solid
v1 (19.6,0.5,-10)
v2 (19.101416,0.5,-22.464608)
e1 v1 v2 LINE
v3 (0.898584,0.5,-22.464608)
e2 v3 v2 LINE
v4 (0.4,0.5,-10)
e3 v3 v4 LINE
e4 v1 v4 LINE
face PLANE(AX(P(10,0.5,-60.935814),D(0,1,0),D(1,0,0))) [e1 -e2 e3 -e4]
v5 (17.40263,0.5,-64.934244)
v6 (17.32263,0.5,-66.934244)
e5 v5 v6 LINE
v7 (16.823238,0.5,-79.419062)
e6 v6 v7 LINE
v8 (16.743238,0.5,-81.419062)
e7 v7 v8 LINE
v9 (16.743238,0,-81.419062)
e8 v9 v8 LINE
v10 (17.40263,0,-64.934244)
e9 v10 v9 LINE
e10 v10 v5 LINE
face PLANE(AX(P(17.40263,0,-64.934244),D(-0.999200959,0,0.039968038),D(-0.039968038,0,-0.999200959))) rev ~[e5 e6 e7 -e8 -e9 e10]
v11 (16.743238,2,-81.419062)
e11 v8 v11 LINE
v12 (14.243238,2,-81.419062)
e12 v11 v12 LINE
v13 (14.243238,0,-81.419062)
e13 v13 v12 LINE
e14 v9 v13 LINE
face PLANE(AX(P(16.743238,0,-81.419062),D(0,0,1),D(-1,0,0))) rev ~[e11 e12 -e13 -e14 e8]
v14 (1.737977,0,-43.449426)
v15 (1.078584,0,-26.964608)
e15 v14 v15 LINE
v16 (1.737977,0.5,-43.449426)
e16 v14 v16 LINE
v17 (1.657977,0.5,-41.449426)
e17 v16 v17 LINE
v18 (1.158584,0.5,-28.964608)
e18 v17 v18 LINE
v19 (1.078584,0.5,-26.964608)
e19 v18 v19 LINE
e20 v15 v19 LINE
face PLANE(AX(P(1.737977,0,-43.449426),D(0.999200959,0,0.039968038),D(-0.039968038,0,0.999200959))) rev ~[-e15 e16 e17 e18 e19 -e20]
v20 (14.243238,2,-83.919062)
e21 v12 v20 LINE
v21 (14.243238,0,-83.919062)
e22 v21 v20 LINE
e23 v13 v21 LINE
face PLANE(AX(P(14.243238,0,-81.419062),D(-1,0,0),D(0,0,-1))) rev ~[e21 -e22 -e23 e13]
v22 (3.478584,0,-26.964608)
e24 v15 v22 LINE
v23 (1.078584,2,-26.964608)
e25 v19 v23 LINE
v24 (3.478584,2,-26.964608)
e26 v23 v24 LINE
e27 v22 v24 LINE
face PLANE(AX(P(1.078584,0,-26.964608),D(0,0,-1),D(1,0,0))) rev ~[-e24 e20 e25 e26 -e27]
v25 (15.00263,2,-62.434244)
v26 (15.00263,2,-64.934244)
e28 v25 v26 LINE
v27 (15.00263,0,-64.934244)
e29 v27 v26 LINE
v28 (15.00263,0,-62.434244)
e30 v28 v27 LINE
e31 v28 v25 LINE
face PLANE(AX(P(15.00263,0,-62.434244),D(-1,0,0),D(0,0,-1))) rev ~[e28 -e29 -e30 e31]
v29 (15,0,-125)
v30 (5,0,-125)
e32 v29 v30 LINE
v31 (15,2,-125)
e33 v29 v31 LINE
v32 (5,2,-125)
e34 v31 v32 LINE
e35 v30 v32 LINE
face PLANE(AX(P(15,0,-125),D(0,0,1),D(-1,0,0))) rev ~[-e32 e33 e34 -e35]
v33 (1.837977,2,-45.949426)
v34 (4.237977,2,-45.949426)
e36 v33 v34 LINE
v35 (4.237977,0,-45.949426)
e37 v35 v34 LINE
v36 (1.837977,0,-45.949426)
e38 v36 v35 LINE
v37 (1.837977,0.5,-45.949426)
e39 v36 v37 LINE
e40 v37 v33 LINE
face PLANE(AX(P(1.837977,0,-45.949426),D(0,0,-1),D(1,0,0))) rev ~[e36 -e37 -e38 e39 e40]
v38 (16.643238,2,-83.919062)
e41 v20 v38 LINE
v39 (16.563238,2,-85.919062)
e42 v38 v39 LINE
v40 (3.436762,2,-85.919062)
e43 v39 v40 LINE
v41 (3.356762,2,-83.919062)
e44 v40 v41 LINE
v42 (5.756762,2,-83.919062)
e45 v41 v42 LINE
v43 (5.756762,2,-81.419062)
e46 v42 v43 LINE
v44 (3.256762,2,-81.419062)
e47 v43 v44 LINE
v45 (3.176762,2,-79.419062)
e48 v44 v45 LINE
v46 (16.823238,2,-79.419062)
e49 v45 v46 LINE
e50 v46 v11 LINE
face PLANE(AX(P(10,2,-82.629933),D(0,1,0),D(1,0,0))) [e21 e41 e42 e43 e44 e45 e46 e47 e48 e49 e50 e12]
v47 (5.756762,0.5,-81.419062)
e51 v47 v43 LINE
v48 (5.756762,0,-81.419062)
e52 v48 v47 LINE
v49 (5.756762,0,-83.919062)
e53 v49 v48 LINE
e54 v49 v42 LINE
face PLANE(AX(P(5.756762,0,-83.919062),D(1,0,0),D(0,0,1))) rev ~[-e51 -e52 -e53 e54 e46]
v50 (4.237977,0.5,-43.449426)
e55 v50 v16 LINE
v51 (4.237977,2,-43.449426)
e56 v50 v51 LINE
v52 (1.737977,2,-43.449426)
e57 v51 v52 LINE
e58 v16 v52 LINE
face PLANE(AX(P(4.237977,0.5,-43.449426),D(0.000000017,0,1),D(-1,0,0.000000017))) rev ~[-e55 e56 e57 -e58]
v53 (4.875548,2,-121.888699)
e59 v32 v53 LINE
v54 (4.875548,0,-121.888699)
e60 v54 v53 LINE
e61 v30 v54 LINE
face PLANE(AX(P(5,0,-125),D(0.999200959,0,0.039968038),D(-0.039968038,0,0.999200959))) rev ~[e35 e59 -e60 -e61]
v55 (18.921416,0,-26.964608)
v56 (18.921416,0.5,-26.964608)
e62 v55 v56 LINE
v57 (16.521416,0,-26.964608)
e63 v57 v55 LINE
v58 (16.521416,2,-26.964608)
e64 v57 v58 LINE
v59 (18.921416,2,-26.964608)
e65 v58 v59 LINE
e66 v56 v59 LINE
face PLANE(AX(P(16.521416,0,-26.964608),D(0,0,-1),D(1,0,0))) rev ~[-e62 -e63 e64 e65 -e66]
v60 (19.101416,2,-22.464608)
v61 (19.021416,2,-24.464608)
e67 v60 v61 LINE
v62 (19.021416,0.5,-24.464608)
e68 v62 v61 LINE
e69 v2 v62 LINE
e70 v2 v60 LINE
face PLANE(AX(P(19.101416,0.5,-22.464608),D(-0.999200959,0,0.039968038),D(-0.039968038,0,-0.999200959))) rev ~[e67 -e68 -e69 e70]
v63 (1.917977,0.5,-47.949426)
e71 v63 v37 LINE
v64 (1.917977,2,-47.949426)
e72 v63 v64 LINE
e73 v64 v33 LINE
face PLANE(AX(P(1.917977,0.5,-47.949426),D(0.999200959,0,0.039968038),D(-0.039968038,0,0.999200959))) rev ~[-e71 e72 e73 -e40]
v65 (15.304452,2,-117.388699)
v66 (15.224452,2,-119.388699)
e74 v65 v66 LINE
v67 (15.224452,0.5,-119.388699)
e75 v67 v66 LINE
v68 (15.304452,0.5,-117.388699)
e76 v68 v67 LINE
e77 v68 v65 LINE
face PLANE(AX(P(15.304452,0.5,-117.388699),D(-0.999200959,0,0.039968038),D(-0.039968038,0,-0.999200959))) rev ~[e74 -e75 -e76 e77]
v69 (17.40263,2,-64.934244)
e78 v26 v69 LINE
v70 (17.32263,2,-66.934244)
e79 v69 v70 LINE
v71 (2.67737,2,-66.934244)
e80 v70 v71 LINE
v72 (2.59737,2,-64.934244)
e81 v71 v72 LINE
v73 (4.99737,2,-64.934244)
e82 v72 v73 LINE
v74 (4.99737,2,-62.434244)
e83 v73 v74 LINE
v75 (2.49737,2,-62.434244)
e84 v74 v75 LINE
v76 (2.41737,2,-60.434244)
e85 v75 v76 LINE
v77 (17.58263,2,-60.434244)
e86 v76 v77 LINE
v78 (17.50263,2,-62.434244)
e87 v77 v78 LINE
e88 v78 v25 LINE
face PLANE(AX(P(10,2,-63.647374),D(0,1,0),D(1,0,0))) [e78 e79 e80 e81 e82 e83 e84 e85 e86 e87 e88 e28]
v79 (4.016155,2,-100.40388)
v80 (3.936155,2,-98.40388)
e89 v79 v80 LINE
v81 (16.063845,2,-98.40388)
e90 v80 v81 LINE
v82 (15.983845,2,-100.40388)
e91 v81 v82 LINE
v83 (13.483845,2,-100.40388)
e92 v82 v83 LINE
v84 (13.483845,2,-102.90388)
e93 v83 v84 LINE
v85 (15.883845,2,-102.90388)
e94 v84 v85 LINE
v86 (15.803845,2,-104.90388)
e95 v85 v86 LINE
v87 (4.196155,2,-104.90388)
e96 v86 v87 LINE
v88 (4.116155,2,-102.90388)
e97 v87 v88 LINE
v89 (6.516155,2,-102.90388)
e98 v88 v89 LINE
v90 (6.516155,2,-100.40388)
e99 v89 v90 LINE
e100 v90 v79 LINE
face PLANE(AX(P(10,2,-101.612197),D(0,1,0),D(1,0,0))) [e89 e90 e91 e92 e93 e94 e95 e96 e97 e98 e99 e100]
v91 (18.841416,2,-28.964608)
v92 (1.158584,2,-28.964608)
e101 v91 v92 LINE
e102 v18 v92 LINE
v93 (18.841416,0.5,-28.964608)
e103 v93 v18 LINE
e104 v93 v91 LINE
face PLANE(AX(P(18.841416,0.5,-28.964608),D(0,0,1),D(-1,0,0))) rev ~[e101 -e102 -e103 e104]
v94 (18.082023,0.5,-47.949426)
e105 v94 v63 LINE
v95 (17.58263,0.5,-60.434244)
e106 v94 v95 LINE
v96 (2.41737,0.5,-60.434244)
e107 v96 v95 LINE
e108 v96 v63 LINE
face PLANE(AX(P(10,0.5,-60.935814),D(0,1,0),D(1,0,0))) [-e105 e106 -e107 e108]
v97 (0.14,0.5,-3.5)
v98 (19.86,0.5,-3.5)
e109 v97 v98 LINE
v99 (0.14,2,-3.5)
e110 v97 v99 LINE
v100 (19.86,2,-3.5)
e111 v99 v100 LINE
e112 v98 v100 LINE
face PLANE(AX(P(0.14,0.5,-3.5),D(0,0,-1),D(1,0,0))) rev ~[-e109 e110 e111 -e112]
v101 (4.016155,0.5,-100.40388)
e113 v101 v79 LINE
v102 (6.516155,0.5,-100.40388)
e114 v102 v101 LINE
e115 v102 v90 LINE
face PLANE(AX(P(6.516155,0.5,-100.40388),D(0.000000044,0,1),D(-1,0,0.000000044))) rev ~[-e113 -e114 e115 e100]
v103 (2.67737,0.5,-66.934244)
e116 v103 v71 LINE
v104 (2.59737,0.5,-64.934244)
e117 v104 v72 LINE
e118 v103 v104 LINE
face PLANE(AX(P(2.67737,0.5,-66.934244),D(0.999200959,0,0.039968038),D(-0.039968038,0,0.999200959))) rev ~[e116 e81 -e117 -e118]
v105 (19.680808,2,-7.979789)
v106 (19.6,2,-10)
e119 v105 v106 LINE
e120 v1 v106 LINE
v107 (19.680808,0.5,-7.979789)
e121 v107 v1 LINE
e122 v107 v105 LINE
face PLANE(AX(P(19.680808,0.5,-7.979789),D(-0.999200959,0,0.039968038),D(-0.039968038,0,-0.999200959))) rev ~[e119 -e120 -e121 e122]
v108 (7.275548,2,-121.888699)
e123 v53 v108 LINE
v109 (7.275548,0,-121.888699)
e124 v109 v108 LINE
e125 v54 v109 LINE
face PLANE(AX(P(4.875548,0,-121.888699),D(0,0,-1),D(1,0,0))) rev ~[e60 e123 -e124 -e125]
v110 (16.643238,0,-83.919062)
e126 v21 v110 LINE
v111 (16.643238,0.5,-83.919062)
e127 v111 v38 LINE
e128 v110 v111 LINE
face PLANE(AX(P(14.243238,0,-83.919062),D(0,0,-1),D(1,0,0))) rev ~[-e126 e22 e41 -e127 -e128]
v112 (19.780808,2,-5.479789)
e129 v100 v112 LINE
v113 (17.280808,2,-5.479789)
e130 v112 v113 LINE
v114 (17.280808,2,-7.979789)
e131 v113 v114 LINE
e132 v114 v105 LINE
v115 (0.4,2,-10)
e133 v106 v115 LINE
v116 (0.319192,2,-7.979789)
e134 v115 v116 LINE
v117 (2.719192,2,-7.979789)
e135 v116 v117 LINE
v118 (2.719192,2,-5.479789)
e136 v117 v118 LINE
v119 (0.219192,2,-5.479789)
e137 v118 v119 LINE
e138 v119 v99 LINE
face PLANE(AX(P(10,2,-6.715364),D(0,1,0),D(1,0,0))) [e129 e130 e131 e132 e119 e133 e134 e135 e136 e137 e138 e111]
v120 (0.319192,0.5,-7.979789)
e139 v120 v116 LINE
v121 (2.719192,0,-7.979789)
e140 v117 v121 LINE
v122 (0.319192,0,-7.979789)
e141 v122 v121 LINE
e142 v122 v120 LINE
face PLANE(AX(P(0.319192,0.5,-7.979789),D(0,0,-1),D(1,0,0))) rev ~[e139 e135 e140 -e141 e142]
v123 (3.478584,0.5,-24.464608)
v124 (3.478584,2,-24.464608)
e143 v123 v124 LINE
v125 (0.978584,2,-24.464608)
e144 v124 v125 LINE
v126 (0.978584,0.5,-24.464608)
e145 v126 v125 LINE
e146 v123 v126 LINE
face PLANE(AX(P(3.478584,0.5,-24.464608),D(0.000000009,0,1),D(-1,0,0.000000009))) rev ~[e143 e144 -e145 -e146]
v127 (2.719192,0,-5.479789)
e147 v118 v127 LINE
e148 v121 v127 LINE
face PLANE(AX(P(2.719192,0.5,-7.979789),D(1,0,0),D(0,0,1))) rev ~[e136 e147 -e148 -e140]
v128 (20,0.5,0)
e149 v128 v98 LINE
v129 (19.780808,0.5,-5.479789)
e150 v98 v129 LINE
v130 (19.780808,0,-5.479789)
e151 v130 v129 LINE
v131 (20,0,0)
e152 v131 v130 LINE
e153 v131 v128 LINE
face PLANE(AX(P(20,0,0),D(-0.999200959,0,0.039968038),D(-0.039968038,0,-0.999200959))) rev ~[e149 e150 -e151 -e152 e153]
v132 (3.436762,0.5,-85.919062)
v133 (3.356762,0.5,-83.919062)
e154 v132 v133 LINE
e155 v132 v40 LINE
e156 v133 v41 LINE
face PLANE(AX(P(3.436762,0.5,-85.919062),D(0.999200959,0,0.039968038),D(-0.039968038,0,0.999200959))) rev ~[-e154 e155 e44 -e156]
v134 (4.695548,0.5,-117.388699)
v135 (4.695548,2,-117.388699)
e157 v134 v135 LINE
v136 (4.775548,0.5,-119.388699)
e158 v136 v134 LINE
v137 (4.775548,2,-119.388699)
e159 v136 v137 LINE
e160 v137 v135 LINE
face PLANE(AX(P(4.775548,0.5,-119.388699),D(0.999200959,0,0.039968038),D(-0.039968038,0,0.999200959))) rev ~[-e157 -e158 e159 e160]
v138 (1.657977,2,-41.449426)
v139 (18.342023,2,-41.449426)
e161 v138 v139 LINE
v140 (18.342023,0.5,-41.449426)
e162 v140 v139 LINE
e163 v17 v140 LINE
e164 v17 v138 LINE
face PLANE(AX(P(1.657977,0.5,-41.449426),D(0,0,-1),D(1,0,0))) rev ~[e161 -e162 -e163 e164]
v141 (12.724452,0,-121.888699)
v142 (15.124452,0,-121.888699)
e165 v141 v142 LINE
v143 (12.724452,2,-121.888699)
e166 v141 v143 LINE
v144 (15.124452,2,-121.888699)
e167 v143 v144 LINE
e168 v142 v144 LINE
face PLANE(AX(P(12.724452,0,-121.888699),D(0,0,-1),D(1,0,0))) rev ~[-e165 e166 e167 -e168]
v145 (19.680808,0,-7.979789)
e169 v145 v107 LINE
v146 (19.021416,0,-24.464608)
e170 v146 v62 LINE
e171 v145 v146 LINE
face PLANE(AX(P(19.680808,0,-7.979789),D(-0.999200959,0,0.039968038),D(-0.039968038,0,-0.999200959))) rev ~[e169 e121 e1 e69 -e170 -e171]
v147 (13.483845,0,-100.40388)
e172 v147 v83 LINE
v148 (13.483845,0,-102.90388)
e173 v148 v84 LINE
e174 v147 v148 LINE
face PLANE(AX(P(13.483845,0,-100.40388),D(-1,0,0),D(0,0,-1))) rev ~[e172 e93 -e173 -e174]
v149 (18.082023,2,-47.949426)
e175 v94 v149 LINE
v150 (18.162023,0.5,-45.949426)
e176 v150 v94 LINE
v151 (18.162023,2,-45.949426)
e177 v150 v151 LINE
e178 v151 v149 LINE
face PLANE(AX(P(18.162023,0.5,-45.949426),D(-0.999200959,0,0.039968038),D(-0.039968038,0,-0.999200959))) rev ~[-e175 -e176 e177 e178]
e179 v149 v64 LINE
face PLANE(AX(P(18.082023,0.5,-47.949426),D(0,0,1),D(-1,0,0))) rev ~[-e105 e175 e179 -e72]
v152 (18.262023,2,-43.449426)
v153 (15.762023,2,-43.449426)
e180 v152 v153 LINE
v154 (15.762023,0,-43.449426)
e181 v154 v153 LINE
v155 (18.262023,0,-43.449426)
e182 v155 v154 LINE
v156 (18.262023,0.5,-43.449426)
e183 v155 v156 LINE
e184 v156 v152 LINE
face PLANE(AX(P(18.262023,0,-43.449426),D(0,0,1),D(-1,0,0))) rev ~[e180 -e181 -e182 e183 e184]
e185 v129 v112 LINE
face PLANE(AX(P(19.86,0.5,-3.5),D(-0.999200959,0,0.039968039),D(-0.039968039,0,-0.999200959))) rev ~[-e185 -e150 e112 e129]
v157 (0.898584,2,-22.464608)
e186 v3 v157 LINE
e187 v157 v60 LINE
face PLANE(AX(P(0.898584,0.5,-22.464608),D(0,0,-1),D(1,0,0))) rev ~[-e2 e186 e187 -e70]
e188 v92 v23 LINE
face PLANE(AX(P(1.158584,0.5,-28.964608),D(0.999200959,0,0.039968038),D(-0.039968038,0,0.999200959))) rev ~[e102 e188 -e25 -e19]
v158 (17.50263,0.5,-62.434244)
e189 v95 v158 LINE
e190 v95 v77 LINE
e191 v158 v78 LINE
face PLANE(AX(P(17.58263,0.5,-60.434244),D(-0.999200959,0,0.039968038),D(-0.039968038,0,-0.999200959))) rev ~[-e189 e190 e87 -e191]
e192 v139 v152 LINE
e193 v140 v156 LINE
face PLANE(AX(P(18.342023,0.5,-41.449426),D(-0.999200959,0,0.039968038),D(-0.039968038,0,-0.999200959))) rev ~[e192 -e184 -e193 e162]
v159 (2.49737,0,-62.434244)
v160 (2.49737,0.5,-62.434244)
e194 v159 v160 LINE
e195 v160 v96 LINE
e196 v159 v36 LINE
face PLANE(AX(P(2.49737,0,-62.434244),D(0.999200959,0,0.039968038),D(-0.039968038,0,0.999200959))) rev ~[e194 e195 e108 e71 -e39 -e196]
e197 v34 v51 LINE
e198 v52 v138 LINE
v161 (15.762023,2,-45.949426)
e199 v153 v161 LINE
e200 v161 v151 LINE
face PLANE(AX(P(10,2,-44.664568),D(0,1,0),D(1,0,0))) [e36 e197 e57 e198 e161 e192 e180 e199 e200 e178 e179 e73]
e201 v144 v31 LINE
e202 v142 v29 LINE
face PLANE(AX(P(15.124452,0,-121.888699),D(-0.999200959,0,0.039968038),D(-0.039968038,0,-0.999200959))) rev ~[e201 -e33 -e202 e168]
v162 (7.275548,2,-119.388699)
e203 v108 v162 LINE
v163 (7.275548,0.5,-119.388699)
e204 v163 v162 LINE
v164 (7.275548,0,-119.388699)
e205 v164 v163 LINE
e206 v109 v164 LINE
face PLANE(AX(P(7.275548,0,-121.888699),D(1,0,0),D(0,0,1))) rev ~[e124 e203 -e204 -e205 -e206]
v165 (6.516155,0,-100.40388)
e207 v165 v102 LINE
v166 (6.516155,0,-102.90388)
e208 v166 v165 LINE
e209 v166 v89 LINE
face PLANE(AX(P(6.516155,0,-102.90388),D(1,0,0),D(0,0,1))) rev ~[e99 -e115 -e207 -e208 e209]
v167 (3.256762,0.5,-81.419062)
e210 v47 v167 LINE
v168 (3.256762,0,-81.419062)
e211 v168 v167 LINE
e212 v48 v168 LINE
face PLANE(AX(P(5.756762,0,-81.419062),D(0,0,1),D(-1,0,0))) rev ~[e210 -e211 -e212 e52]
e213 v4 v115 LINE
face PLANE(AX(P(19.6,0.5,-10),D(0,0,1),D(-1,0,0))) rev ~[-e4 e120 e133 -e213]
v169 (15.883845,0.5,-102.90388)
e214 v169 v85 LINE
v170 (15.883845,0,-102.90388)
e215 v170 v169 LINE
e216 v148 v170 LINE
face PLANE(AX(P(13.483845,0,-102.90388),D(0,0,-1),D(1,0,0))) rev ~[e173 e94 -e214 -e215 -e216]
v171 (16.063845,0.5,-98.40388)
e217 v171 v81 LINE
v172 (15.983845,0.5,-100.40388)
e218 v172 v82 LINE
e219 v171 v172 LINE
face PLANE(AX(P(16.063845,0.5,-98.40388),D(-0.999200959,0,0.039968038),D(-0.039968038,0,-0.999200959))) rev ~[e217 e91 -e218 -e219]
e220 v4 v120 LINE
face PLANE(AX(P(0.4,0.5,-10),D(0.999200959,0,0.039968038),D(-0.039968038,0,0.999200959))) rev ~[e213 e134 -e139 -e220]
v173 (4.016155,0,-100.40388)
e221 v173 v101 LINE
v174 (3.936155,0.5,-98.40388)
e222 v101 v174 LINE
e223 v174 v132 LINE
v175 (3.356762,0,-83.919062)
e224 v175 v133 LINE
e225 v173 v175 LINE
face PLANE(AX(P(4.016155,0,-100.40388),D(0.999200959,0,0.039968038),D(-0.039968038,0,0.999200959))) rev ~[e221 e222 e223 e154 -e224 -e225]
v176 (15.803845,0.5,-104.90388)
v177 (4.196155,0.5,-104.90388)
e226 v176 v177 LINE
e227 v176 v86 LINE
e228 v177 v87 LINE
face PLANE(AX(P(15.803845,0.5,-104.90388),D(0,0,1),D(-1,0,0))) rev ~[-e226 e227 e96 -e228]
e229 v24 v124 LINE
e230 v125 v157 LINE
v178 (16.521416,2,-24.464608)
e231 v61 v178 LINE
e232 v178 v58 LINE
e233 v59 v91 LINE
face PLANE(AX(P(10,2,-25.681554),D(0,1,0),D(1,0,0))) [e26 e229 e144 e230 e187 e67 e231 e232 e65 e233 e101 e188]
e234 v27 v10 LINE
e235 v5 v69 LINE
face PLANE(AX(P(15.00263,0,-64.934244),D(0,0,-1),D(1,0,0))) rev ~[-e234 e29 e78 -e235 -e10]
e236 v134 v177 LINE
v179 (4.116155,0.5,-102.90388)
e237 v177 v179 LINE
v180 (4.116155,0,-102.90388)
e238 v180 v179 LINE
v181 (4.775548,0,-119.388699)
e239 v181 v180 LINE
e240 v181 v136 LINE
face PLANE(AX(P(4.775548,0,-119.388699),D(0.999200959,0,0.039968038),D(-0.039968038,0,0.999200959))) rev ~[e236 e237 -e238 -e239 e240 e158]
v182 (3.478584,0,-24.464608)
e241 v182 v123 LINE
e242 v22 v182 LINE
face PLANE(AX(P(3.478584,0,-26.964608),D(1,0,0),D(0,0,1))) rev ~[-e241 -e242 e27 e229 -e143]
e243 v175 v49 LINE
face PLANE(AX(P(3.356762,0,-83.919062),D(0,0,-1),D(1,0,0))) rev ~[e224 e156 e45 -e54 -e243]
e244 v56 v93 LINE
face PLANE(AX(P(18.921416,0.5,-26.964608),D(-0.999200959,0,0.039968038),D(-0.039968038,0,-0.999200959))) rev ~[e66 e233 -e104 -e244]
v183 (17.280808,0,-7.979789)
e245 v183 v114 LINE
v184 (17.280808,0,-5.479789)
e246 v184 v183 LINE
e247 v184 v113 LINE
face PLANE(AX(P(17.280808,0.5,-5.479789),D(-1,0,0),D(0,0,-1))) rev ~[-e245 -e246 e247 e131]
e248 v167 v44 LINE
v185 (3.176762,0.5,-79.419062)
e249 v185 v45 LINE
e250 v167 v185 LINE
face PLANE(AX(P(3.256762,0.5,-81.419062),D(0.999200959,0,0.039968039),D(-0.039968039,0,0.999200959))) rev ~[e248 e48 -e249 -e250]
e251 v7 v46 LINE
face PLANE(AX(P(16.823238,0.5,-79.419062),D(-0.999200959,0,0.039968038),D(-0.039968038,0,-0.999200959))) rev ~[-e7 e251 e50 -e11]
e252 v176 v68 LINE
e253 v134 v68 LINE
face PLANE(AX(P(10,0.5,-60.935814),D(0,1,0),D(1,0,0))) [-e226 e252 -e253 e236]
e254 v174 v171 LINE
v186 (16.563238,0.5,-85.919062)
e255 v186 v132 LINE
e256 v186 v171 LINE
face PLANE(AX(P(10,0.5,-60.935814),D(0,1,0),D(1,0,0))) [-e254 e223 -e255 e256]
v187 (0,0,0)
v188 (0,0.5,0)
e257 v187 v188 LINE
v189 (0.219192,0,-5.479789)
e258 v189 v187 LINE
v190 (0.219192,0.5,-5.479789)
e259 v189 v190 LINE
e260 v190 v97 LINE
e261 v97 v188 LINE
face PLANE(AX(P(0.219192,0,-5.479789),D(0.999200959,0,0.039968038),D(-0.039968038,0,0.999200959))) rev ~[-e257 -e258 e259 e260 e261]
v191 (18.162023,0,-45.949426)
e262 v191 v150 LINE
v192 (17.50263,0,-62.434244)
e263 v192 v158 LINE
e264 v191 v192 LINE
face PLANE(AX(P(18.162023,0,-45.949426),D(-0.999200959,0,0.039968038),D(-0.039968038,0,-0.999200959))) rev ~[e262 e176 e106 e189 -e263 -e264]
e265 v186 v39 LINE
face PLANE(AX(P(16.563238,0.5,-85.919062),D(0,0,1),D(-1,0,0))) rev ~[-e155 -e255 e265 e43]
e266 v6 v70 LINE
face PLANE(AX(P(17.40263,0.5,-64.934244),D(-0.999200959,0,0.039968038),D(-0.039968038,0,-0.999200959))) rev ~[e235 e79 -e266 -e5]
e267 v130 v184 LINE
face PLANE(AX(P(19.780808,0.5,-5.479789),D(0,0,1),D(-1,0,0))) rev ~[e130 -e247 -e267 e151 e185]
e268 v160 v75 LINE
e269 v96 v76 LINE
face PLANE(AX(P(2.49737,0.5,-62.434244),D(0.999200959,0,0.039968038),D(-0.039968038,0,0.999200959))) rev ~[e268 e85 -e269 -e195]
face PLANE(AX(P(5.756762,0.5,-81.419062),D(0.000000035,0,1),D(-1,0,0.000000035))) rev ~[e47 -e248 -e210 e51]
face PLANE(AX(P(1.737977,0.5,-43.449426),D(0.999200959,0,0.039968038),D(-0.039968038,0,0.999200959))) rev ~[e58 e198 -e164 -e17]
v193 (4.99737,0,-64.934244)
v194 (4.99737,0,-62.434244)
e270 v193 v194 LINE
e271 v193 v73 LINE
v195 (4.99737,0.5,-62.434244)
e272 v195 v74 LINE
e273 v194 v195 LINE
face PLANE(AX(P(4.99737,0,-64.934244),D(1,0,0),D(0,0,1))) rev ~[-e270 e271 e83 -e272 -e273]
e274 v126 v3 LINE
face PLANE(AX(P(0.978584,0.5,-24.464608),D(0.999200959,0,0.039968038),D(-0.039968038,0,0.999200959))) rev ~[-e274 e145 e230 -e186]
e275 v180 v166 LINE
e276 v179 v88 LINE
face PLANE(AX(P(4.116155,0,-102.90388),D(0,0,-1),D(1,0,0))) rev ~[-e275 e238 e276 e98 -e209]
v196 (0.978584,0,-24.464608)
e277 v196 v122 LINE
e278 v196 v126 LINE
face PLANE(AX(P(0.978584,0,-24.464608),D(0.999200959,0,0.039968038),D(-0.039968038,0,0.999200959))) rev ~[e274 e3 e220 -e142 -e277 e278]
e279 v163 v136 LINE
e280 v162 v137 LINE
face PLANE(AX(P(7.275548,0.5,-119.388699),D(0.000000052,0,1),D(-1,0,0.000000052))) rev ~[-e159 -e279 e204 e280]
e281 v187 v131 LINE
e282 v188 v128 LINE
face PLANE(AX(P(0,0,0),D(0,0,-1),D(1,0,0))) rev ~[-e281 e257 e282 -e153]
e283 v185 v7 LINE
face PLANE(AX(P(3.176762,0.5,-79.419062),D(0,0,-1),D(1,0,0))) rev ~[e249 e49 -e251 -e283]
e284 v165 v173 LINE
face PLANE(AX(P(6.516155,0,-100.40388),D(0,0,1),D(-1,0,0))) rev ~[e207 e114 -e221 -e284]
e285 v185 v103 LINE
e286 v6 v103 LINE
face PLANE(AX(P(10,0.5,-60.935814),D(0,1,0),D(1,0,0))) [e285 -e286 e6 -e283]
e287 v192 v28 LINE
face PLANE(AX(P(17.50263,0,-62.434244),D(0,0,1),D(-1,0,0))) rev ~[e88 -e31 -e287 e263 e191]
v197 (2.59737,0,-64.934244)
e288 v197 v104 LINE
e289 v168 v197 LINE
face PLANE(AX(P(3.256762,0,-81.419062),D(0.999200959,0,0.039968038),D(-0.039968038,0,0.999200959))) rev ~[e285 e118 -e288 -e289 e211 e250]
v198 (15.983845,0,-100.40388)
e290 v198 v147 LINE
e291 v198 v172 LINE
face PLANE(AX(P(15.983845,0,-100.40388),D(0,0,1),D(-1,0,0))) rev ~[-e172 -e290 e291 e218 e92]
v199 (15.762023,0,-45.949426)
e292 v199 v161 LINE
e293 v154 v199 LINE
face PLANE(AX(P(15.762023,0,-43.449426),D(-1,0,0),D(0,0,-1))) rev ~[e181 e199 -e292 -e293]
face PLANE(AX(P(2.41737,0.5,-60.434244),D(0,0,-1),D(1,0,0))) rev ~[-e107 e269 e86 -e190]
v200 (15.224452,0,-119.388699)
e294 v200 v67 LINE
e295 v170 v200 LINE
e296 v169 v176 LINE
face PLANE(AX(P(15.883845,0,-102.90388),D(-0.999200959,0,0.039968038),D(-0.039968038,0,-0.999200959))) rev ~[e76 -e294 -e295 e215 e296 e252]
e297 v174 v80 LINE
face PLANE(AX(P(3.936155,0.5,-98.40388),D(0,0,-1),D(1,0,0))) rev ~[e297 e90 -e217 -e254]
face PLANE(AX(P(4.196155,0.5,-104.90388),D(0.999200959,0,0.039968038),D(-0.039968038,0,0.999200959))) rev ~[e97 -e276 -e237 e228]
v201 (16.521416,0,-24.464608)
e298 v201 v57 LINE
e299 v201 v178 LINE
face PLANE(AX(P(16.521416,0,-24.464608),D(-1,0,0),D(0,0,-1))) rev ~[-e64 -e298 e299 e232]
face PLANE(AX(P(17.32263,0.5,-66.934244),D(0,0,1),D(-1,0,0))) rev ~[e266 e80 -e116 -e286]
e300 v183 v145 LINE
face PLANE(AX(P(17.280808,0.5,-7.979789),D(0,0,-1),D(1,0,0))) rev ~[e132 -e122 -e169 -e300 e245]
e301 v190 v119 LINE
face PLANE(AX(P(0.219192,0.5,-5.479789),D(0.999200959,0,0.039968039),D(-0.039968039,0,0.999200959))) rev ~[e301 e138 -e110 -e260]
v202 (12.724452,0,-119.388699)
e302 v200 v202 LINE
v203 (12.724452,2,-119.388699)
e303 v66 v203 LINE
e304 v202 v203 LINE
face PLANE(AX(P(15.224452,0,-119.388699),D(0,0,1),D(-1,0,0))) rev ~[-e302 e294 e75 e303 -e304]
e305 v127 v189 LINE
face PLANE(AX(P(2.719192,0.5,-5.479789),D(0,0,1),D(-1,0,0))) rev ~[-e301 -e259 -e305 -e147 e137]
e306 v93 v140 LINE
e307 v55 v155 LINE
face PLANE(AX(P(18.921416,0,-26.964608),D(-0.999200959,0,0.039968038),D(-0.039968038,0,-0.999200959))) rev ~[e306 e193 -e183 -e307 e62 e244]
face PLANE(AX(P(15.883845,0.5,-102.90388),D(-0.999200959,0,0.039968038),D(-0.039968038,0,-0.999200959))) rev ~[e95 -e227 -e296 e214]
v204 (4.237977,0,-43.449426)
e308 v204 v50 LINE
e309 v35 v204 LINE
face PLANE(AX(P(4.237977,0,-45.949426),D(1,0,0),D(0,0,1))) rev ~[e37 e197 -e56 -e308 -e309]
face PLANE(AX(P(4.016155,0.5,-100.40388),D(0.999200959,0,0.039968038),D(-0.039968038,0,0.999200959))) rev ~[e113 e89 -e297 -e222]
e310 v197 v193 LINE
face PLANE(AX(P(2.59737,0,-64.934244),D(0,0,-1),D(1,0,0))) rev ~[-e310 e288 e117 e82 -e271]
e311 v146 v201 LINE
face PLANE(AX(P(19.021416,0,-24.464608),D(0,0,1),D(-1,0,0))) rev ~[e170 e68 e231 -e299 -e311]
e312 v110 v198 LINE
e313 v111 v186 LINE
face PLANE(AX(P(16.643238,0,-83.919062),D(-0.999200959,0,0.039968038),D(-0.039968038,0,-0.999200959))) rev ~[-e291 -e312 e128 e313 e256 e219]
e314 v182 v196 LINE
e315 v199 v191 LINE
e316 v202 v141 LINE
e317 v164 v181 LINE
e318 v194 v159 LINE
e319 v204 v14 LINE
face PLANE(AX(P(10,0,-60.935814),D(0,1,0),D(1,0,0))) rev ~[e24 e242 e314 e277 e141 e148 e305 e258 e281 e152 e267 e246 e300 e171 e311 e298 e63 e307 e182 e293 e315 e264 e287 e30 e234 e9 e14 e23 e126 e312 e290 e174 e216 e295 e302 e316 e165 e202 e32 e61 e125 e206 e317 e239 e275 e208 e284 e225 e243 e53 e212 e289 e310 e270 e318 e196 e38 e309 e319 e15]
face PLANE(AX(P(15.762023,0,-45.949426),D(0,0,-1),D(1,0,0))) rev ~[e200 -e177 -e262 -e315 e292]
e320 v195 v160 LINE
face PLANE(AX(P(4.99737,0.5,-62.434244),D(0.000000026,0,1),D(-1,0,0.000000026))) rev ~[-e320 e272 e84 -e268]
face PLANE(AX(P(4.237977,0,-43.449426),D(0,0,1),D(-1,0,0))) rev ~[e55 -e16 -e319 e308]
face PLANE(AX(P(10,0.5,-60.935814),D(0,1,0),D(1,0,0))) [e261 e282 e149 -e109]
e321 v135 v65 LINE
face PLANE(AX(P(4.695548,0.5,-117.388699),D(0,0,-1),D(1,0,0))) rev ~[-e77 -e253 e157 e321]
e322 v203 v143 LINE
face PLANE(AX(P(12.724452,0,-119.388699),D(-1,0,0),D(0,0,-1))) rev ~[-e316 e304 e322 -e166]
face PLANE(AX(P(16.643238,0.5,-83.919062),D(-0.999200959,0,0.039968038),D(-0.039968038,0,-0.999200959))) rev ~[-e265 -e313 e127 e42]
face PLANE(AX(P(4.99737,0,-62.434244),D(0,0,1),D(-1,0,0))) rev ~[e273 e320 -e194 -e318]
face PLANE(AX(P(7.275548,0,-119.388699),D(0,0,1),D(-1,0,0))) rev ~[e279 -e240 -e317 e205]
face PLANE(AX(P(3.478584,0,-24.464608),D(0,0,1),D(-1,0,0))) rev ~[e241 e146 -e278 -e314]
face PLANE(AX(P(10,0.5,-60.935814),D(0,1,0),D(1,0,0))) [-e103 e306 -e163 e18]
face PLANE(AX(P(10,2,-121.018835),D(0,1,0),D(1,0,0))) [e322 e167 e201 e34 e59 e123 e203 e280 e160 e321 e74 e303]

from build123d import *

# Parameters (mm, degrees)
BOSS_EXTRUDE1_DEPTH = 0.5
BOSS_EXTRUDE2_DEPTH = 1.5


with BuildPart() as part:
    # Sketch2 → Boss-Extrude1 (new body)
    with BuildSketch(Plane(origin=(0, 0, 0), x_dir=(1, 0, 0), z_dir=(0, 1, 0))):
        Polygon((0.219191575, 5.479789367), (0, 0), (20, 0), (19.780808425, 5.479789367), (17.280808425, 5.479789367), (17.280808425, 7.979789367), (19.680808425, 7.979789367), (19.021415697, 24.464607583), (16.521415698, 24.464607583), (16.521415698, 26.964607583), (18.921415697, 26.964607583), (18.262022968, 43.449425798), (15.76202297, 43.449425798), (15.76202297, 45.949425798), (18.162022968, 45.949425798), (17.502630239, 62.434244014), (15.002630242, 62.434244014), (15.002630242, 64.934244014), (17.402630239, 64.934244014), (16.743237511, 81.41906223), (14.243237514, 81.41906223), (14.243237514, 83.91906223), (16.643237511, 83.91906223), (15.983844782, 100.403880446), (13.483844787, 100.403880446), (13.483844787, 102.903880446), (15.883844782, 102.903880446), (15.224452054, 119.388698661), (12.724452059, 119.388698661), (12.724452059, 121.888698661), (15.124452054, 121.888698661), (15, 125), (5, 125), (4.875547946, 121.888698661), (7.275547941, 121.888698661), (7.275547941, 119.388698661), (4.775547941, 119.388698661), (4.116155218, 102.903880446), (6.516155213, 102.903880446), (6.516155213, 100.403880446), (4.016155213, 100.403880446), (3.356762489, 83.91906223), (5.756762486, 83.91906223), (5.756762486, 81.41906223), (3.256762486, 81.41906223), (2.597369761, 64.934244014), (4.997369758, 64.934244014), (4.997369758, 62.434244014), (2.497369758, 62.434244014), (1.837977032, 45.949425798), (4.23797703, 45.949425798), (4.23797703, 43.449425798), (1.73797703, 43.449425798), (1.078584303, 26.964607583), (3.478584302, 26.964607583), (3.478584302, 24.464607583), (0.978584302, 24.464607583), (0.319191575, 7.979789367), (2.719191575, 7.979789367), (2.719191575, 5.479789367), align=None)
    extrude(amount=BOSS_EXTRUDE1_DEPTH)

    # Sketch3 → Boss-Extrude2 (add)
    with BuildSketch(Plane(origin=(0, 0.5, 0), x_dir=(1, 0, 0), z_dir=(0, 1, 0))):
        Polygon((0.219191575, 5.479789367), (0.14, 3.5), (19.86, 3.5), (19.780808425, 5.479789367), (17.280808425, 5.479789367), (17.280808425, 7.979789367), (19.680808425, 7.979789367), (19.6, 10), (0.4, 10), (0.319191575, 7.979789367), (2.719191575, 7.979789367), (2.719191575, 5.479789367), align=None)
        Polygon((0.978584302, 24.464607561), (0.898584302, 22.464607561), (19.101415698, 22.464607561), (19.021415697, 24.464607583), (16.521415698, 24.464607583), (16.521415698, 26.964607583), (18.921415697, 26.964607583), (18.841415697, 28.964607583), (1.158584303, 28.964607583), (1.078584303, 26.964607583), (3.478584302, 26.964607583), (3.478584302, 24.464607583), align=None)
        Polygon((1.73797703, 43.449425755), (1.657977032, 41.449425798), (18.342022968, 41.449425798), (18.262022968, 43.449425798), (15.76202297, 43.449425798), (15.76202297, 45.949425798), (18.162022968, 45.949425798), (18.082022968, 47.949425798), (1.917977032, 47.949425798), (1.837977032, 45.949425798), (4.23797703, 45.949425798), (4.23797703, 43.449425798), align=None)
        Polygon((2.497369758, 62.434243949), (2.417369761, 60.434244014), (17.582630239, 60.434244014), (17.502630239, 62.434244014), (15.002630242, 62.434244014), (15.002630242, 64.934244014), (17.402630239, 64.934244014), (17.322630239, 66.934244014), (2.677369761, 66.934244014), (2.597369761, 64.934244014), (4.997369758, 64.934244014), (4.997369758, 62.434244014), align=None)
        Polygon((3.256762486, 81.419062142), (3.176762489, 79.41906223), (16.823237511, 79.41906223), (16.743237511, 81.41906223), (14.243237514, 81.41906223), (14.243237514, 83.91906223), (16.643237511, 83.91906223), (16.563237511, 85.91906223), (3.436762489, 85.91906223), (3.356762489, 83.91906223), (5.756762486, 83.91906223), (5.756762486, 81.41906223), align=None)
        Polygon((4.016155213, 100.403880336), (3.936155218, 98.403880446), (16.063844782, 98.403880446), (15.983844782, 100.403880446), (13.483844787, 100.403880446), (13.483844787, 102.903880446), (15.883844782, 102.903880446), (15.803844782, 104.903880446), (4.196155218, 104.903880446), (4.116155218, 102.903880446), (6.516155213, 102.903880446), (6.516155213, 100.403880446), align=None)
        Polygon((4.775547941, 119.38869853), (4.695547946, 117.388698661), (15.304452054, 117.388698661), (15.224452054, 119.388698661), (12.724452059, 119.388698661), (12.724452059, 121.888698661), (15.124452054, 121.888698661), (15, 125), (5, 125), (4.875547946, 121.888698661), (7.275547941, 121.888698661), (7.275547941, 119.388698661), align=None)
    extrude(amount=BOSS_EXTRUDE2_DEPTH)


solid = part.part
